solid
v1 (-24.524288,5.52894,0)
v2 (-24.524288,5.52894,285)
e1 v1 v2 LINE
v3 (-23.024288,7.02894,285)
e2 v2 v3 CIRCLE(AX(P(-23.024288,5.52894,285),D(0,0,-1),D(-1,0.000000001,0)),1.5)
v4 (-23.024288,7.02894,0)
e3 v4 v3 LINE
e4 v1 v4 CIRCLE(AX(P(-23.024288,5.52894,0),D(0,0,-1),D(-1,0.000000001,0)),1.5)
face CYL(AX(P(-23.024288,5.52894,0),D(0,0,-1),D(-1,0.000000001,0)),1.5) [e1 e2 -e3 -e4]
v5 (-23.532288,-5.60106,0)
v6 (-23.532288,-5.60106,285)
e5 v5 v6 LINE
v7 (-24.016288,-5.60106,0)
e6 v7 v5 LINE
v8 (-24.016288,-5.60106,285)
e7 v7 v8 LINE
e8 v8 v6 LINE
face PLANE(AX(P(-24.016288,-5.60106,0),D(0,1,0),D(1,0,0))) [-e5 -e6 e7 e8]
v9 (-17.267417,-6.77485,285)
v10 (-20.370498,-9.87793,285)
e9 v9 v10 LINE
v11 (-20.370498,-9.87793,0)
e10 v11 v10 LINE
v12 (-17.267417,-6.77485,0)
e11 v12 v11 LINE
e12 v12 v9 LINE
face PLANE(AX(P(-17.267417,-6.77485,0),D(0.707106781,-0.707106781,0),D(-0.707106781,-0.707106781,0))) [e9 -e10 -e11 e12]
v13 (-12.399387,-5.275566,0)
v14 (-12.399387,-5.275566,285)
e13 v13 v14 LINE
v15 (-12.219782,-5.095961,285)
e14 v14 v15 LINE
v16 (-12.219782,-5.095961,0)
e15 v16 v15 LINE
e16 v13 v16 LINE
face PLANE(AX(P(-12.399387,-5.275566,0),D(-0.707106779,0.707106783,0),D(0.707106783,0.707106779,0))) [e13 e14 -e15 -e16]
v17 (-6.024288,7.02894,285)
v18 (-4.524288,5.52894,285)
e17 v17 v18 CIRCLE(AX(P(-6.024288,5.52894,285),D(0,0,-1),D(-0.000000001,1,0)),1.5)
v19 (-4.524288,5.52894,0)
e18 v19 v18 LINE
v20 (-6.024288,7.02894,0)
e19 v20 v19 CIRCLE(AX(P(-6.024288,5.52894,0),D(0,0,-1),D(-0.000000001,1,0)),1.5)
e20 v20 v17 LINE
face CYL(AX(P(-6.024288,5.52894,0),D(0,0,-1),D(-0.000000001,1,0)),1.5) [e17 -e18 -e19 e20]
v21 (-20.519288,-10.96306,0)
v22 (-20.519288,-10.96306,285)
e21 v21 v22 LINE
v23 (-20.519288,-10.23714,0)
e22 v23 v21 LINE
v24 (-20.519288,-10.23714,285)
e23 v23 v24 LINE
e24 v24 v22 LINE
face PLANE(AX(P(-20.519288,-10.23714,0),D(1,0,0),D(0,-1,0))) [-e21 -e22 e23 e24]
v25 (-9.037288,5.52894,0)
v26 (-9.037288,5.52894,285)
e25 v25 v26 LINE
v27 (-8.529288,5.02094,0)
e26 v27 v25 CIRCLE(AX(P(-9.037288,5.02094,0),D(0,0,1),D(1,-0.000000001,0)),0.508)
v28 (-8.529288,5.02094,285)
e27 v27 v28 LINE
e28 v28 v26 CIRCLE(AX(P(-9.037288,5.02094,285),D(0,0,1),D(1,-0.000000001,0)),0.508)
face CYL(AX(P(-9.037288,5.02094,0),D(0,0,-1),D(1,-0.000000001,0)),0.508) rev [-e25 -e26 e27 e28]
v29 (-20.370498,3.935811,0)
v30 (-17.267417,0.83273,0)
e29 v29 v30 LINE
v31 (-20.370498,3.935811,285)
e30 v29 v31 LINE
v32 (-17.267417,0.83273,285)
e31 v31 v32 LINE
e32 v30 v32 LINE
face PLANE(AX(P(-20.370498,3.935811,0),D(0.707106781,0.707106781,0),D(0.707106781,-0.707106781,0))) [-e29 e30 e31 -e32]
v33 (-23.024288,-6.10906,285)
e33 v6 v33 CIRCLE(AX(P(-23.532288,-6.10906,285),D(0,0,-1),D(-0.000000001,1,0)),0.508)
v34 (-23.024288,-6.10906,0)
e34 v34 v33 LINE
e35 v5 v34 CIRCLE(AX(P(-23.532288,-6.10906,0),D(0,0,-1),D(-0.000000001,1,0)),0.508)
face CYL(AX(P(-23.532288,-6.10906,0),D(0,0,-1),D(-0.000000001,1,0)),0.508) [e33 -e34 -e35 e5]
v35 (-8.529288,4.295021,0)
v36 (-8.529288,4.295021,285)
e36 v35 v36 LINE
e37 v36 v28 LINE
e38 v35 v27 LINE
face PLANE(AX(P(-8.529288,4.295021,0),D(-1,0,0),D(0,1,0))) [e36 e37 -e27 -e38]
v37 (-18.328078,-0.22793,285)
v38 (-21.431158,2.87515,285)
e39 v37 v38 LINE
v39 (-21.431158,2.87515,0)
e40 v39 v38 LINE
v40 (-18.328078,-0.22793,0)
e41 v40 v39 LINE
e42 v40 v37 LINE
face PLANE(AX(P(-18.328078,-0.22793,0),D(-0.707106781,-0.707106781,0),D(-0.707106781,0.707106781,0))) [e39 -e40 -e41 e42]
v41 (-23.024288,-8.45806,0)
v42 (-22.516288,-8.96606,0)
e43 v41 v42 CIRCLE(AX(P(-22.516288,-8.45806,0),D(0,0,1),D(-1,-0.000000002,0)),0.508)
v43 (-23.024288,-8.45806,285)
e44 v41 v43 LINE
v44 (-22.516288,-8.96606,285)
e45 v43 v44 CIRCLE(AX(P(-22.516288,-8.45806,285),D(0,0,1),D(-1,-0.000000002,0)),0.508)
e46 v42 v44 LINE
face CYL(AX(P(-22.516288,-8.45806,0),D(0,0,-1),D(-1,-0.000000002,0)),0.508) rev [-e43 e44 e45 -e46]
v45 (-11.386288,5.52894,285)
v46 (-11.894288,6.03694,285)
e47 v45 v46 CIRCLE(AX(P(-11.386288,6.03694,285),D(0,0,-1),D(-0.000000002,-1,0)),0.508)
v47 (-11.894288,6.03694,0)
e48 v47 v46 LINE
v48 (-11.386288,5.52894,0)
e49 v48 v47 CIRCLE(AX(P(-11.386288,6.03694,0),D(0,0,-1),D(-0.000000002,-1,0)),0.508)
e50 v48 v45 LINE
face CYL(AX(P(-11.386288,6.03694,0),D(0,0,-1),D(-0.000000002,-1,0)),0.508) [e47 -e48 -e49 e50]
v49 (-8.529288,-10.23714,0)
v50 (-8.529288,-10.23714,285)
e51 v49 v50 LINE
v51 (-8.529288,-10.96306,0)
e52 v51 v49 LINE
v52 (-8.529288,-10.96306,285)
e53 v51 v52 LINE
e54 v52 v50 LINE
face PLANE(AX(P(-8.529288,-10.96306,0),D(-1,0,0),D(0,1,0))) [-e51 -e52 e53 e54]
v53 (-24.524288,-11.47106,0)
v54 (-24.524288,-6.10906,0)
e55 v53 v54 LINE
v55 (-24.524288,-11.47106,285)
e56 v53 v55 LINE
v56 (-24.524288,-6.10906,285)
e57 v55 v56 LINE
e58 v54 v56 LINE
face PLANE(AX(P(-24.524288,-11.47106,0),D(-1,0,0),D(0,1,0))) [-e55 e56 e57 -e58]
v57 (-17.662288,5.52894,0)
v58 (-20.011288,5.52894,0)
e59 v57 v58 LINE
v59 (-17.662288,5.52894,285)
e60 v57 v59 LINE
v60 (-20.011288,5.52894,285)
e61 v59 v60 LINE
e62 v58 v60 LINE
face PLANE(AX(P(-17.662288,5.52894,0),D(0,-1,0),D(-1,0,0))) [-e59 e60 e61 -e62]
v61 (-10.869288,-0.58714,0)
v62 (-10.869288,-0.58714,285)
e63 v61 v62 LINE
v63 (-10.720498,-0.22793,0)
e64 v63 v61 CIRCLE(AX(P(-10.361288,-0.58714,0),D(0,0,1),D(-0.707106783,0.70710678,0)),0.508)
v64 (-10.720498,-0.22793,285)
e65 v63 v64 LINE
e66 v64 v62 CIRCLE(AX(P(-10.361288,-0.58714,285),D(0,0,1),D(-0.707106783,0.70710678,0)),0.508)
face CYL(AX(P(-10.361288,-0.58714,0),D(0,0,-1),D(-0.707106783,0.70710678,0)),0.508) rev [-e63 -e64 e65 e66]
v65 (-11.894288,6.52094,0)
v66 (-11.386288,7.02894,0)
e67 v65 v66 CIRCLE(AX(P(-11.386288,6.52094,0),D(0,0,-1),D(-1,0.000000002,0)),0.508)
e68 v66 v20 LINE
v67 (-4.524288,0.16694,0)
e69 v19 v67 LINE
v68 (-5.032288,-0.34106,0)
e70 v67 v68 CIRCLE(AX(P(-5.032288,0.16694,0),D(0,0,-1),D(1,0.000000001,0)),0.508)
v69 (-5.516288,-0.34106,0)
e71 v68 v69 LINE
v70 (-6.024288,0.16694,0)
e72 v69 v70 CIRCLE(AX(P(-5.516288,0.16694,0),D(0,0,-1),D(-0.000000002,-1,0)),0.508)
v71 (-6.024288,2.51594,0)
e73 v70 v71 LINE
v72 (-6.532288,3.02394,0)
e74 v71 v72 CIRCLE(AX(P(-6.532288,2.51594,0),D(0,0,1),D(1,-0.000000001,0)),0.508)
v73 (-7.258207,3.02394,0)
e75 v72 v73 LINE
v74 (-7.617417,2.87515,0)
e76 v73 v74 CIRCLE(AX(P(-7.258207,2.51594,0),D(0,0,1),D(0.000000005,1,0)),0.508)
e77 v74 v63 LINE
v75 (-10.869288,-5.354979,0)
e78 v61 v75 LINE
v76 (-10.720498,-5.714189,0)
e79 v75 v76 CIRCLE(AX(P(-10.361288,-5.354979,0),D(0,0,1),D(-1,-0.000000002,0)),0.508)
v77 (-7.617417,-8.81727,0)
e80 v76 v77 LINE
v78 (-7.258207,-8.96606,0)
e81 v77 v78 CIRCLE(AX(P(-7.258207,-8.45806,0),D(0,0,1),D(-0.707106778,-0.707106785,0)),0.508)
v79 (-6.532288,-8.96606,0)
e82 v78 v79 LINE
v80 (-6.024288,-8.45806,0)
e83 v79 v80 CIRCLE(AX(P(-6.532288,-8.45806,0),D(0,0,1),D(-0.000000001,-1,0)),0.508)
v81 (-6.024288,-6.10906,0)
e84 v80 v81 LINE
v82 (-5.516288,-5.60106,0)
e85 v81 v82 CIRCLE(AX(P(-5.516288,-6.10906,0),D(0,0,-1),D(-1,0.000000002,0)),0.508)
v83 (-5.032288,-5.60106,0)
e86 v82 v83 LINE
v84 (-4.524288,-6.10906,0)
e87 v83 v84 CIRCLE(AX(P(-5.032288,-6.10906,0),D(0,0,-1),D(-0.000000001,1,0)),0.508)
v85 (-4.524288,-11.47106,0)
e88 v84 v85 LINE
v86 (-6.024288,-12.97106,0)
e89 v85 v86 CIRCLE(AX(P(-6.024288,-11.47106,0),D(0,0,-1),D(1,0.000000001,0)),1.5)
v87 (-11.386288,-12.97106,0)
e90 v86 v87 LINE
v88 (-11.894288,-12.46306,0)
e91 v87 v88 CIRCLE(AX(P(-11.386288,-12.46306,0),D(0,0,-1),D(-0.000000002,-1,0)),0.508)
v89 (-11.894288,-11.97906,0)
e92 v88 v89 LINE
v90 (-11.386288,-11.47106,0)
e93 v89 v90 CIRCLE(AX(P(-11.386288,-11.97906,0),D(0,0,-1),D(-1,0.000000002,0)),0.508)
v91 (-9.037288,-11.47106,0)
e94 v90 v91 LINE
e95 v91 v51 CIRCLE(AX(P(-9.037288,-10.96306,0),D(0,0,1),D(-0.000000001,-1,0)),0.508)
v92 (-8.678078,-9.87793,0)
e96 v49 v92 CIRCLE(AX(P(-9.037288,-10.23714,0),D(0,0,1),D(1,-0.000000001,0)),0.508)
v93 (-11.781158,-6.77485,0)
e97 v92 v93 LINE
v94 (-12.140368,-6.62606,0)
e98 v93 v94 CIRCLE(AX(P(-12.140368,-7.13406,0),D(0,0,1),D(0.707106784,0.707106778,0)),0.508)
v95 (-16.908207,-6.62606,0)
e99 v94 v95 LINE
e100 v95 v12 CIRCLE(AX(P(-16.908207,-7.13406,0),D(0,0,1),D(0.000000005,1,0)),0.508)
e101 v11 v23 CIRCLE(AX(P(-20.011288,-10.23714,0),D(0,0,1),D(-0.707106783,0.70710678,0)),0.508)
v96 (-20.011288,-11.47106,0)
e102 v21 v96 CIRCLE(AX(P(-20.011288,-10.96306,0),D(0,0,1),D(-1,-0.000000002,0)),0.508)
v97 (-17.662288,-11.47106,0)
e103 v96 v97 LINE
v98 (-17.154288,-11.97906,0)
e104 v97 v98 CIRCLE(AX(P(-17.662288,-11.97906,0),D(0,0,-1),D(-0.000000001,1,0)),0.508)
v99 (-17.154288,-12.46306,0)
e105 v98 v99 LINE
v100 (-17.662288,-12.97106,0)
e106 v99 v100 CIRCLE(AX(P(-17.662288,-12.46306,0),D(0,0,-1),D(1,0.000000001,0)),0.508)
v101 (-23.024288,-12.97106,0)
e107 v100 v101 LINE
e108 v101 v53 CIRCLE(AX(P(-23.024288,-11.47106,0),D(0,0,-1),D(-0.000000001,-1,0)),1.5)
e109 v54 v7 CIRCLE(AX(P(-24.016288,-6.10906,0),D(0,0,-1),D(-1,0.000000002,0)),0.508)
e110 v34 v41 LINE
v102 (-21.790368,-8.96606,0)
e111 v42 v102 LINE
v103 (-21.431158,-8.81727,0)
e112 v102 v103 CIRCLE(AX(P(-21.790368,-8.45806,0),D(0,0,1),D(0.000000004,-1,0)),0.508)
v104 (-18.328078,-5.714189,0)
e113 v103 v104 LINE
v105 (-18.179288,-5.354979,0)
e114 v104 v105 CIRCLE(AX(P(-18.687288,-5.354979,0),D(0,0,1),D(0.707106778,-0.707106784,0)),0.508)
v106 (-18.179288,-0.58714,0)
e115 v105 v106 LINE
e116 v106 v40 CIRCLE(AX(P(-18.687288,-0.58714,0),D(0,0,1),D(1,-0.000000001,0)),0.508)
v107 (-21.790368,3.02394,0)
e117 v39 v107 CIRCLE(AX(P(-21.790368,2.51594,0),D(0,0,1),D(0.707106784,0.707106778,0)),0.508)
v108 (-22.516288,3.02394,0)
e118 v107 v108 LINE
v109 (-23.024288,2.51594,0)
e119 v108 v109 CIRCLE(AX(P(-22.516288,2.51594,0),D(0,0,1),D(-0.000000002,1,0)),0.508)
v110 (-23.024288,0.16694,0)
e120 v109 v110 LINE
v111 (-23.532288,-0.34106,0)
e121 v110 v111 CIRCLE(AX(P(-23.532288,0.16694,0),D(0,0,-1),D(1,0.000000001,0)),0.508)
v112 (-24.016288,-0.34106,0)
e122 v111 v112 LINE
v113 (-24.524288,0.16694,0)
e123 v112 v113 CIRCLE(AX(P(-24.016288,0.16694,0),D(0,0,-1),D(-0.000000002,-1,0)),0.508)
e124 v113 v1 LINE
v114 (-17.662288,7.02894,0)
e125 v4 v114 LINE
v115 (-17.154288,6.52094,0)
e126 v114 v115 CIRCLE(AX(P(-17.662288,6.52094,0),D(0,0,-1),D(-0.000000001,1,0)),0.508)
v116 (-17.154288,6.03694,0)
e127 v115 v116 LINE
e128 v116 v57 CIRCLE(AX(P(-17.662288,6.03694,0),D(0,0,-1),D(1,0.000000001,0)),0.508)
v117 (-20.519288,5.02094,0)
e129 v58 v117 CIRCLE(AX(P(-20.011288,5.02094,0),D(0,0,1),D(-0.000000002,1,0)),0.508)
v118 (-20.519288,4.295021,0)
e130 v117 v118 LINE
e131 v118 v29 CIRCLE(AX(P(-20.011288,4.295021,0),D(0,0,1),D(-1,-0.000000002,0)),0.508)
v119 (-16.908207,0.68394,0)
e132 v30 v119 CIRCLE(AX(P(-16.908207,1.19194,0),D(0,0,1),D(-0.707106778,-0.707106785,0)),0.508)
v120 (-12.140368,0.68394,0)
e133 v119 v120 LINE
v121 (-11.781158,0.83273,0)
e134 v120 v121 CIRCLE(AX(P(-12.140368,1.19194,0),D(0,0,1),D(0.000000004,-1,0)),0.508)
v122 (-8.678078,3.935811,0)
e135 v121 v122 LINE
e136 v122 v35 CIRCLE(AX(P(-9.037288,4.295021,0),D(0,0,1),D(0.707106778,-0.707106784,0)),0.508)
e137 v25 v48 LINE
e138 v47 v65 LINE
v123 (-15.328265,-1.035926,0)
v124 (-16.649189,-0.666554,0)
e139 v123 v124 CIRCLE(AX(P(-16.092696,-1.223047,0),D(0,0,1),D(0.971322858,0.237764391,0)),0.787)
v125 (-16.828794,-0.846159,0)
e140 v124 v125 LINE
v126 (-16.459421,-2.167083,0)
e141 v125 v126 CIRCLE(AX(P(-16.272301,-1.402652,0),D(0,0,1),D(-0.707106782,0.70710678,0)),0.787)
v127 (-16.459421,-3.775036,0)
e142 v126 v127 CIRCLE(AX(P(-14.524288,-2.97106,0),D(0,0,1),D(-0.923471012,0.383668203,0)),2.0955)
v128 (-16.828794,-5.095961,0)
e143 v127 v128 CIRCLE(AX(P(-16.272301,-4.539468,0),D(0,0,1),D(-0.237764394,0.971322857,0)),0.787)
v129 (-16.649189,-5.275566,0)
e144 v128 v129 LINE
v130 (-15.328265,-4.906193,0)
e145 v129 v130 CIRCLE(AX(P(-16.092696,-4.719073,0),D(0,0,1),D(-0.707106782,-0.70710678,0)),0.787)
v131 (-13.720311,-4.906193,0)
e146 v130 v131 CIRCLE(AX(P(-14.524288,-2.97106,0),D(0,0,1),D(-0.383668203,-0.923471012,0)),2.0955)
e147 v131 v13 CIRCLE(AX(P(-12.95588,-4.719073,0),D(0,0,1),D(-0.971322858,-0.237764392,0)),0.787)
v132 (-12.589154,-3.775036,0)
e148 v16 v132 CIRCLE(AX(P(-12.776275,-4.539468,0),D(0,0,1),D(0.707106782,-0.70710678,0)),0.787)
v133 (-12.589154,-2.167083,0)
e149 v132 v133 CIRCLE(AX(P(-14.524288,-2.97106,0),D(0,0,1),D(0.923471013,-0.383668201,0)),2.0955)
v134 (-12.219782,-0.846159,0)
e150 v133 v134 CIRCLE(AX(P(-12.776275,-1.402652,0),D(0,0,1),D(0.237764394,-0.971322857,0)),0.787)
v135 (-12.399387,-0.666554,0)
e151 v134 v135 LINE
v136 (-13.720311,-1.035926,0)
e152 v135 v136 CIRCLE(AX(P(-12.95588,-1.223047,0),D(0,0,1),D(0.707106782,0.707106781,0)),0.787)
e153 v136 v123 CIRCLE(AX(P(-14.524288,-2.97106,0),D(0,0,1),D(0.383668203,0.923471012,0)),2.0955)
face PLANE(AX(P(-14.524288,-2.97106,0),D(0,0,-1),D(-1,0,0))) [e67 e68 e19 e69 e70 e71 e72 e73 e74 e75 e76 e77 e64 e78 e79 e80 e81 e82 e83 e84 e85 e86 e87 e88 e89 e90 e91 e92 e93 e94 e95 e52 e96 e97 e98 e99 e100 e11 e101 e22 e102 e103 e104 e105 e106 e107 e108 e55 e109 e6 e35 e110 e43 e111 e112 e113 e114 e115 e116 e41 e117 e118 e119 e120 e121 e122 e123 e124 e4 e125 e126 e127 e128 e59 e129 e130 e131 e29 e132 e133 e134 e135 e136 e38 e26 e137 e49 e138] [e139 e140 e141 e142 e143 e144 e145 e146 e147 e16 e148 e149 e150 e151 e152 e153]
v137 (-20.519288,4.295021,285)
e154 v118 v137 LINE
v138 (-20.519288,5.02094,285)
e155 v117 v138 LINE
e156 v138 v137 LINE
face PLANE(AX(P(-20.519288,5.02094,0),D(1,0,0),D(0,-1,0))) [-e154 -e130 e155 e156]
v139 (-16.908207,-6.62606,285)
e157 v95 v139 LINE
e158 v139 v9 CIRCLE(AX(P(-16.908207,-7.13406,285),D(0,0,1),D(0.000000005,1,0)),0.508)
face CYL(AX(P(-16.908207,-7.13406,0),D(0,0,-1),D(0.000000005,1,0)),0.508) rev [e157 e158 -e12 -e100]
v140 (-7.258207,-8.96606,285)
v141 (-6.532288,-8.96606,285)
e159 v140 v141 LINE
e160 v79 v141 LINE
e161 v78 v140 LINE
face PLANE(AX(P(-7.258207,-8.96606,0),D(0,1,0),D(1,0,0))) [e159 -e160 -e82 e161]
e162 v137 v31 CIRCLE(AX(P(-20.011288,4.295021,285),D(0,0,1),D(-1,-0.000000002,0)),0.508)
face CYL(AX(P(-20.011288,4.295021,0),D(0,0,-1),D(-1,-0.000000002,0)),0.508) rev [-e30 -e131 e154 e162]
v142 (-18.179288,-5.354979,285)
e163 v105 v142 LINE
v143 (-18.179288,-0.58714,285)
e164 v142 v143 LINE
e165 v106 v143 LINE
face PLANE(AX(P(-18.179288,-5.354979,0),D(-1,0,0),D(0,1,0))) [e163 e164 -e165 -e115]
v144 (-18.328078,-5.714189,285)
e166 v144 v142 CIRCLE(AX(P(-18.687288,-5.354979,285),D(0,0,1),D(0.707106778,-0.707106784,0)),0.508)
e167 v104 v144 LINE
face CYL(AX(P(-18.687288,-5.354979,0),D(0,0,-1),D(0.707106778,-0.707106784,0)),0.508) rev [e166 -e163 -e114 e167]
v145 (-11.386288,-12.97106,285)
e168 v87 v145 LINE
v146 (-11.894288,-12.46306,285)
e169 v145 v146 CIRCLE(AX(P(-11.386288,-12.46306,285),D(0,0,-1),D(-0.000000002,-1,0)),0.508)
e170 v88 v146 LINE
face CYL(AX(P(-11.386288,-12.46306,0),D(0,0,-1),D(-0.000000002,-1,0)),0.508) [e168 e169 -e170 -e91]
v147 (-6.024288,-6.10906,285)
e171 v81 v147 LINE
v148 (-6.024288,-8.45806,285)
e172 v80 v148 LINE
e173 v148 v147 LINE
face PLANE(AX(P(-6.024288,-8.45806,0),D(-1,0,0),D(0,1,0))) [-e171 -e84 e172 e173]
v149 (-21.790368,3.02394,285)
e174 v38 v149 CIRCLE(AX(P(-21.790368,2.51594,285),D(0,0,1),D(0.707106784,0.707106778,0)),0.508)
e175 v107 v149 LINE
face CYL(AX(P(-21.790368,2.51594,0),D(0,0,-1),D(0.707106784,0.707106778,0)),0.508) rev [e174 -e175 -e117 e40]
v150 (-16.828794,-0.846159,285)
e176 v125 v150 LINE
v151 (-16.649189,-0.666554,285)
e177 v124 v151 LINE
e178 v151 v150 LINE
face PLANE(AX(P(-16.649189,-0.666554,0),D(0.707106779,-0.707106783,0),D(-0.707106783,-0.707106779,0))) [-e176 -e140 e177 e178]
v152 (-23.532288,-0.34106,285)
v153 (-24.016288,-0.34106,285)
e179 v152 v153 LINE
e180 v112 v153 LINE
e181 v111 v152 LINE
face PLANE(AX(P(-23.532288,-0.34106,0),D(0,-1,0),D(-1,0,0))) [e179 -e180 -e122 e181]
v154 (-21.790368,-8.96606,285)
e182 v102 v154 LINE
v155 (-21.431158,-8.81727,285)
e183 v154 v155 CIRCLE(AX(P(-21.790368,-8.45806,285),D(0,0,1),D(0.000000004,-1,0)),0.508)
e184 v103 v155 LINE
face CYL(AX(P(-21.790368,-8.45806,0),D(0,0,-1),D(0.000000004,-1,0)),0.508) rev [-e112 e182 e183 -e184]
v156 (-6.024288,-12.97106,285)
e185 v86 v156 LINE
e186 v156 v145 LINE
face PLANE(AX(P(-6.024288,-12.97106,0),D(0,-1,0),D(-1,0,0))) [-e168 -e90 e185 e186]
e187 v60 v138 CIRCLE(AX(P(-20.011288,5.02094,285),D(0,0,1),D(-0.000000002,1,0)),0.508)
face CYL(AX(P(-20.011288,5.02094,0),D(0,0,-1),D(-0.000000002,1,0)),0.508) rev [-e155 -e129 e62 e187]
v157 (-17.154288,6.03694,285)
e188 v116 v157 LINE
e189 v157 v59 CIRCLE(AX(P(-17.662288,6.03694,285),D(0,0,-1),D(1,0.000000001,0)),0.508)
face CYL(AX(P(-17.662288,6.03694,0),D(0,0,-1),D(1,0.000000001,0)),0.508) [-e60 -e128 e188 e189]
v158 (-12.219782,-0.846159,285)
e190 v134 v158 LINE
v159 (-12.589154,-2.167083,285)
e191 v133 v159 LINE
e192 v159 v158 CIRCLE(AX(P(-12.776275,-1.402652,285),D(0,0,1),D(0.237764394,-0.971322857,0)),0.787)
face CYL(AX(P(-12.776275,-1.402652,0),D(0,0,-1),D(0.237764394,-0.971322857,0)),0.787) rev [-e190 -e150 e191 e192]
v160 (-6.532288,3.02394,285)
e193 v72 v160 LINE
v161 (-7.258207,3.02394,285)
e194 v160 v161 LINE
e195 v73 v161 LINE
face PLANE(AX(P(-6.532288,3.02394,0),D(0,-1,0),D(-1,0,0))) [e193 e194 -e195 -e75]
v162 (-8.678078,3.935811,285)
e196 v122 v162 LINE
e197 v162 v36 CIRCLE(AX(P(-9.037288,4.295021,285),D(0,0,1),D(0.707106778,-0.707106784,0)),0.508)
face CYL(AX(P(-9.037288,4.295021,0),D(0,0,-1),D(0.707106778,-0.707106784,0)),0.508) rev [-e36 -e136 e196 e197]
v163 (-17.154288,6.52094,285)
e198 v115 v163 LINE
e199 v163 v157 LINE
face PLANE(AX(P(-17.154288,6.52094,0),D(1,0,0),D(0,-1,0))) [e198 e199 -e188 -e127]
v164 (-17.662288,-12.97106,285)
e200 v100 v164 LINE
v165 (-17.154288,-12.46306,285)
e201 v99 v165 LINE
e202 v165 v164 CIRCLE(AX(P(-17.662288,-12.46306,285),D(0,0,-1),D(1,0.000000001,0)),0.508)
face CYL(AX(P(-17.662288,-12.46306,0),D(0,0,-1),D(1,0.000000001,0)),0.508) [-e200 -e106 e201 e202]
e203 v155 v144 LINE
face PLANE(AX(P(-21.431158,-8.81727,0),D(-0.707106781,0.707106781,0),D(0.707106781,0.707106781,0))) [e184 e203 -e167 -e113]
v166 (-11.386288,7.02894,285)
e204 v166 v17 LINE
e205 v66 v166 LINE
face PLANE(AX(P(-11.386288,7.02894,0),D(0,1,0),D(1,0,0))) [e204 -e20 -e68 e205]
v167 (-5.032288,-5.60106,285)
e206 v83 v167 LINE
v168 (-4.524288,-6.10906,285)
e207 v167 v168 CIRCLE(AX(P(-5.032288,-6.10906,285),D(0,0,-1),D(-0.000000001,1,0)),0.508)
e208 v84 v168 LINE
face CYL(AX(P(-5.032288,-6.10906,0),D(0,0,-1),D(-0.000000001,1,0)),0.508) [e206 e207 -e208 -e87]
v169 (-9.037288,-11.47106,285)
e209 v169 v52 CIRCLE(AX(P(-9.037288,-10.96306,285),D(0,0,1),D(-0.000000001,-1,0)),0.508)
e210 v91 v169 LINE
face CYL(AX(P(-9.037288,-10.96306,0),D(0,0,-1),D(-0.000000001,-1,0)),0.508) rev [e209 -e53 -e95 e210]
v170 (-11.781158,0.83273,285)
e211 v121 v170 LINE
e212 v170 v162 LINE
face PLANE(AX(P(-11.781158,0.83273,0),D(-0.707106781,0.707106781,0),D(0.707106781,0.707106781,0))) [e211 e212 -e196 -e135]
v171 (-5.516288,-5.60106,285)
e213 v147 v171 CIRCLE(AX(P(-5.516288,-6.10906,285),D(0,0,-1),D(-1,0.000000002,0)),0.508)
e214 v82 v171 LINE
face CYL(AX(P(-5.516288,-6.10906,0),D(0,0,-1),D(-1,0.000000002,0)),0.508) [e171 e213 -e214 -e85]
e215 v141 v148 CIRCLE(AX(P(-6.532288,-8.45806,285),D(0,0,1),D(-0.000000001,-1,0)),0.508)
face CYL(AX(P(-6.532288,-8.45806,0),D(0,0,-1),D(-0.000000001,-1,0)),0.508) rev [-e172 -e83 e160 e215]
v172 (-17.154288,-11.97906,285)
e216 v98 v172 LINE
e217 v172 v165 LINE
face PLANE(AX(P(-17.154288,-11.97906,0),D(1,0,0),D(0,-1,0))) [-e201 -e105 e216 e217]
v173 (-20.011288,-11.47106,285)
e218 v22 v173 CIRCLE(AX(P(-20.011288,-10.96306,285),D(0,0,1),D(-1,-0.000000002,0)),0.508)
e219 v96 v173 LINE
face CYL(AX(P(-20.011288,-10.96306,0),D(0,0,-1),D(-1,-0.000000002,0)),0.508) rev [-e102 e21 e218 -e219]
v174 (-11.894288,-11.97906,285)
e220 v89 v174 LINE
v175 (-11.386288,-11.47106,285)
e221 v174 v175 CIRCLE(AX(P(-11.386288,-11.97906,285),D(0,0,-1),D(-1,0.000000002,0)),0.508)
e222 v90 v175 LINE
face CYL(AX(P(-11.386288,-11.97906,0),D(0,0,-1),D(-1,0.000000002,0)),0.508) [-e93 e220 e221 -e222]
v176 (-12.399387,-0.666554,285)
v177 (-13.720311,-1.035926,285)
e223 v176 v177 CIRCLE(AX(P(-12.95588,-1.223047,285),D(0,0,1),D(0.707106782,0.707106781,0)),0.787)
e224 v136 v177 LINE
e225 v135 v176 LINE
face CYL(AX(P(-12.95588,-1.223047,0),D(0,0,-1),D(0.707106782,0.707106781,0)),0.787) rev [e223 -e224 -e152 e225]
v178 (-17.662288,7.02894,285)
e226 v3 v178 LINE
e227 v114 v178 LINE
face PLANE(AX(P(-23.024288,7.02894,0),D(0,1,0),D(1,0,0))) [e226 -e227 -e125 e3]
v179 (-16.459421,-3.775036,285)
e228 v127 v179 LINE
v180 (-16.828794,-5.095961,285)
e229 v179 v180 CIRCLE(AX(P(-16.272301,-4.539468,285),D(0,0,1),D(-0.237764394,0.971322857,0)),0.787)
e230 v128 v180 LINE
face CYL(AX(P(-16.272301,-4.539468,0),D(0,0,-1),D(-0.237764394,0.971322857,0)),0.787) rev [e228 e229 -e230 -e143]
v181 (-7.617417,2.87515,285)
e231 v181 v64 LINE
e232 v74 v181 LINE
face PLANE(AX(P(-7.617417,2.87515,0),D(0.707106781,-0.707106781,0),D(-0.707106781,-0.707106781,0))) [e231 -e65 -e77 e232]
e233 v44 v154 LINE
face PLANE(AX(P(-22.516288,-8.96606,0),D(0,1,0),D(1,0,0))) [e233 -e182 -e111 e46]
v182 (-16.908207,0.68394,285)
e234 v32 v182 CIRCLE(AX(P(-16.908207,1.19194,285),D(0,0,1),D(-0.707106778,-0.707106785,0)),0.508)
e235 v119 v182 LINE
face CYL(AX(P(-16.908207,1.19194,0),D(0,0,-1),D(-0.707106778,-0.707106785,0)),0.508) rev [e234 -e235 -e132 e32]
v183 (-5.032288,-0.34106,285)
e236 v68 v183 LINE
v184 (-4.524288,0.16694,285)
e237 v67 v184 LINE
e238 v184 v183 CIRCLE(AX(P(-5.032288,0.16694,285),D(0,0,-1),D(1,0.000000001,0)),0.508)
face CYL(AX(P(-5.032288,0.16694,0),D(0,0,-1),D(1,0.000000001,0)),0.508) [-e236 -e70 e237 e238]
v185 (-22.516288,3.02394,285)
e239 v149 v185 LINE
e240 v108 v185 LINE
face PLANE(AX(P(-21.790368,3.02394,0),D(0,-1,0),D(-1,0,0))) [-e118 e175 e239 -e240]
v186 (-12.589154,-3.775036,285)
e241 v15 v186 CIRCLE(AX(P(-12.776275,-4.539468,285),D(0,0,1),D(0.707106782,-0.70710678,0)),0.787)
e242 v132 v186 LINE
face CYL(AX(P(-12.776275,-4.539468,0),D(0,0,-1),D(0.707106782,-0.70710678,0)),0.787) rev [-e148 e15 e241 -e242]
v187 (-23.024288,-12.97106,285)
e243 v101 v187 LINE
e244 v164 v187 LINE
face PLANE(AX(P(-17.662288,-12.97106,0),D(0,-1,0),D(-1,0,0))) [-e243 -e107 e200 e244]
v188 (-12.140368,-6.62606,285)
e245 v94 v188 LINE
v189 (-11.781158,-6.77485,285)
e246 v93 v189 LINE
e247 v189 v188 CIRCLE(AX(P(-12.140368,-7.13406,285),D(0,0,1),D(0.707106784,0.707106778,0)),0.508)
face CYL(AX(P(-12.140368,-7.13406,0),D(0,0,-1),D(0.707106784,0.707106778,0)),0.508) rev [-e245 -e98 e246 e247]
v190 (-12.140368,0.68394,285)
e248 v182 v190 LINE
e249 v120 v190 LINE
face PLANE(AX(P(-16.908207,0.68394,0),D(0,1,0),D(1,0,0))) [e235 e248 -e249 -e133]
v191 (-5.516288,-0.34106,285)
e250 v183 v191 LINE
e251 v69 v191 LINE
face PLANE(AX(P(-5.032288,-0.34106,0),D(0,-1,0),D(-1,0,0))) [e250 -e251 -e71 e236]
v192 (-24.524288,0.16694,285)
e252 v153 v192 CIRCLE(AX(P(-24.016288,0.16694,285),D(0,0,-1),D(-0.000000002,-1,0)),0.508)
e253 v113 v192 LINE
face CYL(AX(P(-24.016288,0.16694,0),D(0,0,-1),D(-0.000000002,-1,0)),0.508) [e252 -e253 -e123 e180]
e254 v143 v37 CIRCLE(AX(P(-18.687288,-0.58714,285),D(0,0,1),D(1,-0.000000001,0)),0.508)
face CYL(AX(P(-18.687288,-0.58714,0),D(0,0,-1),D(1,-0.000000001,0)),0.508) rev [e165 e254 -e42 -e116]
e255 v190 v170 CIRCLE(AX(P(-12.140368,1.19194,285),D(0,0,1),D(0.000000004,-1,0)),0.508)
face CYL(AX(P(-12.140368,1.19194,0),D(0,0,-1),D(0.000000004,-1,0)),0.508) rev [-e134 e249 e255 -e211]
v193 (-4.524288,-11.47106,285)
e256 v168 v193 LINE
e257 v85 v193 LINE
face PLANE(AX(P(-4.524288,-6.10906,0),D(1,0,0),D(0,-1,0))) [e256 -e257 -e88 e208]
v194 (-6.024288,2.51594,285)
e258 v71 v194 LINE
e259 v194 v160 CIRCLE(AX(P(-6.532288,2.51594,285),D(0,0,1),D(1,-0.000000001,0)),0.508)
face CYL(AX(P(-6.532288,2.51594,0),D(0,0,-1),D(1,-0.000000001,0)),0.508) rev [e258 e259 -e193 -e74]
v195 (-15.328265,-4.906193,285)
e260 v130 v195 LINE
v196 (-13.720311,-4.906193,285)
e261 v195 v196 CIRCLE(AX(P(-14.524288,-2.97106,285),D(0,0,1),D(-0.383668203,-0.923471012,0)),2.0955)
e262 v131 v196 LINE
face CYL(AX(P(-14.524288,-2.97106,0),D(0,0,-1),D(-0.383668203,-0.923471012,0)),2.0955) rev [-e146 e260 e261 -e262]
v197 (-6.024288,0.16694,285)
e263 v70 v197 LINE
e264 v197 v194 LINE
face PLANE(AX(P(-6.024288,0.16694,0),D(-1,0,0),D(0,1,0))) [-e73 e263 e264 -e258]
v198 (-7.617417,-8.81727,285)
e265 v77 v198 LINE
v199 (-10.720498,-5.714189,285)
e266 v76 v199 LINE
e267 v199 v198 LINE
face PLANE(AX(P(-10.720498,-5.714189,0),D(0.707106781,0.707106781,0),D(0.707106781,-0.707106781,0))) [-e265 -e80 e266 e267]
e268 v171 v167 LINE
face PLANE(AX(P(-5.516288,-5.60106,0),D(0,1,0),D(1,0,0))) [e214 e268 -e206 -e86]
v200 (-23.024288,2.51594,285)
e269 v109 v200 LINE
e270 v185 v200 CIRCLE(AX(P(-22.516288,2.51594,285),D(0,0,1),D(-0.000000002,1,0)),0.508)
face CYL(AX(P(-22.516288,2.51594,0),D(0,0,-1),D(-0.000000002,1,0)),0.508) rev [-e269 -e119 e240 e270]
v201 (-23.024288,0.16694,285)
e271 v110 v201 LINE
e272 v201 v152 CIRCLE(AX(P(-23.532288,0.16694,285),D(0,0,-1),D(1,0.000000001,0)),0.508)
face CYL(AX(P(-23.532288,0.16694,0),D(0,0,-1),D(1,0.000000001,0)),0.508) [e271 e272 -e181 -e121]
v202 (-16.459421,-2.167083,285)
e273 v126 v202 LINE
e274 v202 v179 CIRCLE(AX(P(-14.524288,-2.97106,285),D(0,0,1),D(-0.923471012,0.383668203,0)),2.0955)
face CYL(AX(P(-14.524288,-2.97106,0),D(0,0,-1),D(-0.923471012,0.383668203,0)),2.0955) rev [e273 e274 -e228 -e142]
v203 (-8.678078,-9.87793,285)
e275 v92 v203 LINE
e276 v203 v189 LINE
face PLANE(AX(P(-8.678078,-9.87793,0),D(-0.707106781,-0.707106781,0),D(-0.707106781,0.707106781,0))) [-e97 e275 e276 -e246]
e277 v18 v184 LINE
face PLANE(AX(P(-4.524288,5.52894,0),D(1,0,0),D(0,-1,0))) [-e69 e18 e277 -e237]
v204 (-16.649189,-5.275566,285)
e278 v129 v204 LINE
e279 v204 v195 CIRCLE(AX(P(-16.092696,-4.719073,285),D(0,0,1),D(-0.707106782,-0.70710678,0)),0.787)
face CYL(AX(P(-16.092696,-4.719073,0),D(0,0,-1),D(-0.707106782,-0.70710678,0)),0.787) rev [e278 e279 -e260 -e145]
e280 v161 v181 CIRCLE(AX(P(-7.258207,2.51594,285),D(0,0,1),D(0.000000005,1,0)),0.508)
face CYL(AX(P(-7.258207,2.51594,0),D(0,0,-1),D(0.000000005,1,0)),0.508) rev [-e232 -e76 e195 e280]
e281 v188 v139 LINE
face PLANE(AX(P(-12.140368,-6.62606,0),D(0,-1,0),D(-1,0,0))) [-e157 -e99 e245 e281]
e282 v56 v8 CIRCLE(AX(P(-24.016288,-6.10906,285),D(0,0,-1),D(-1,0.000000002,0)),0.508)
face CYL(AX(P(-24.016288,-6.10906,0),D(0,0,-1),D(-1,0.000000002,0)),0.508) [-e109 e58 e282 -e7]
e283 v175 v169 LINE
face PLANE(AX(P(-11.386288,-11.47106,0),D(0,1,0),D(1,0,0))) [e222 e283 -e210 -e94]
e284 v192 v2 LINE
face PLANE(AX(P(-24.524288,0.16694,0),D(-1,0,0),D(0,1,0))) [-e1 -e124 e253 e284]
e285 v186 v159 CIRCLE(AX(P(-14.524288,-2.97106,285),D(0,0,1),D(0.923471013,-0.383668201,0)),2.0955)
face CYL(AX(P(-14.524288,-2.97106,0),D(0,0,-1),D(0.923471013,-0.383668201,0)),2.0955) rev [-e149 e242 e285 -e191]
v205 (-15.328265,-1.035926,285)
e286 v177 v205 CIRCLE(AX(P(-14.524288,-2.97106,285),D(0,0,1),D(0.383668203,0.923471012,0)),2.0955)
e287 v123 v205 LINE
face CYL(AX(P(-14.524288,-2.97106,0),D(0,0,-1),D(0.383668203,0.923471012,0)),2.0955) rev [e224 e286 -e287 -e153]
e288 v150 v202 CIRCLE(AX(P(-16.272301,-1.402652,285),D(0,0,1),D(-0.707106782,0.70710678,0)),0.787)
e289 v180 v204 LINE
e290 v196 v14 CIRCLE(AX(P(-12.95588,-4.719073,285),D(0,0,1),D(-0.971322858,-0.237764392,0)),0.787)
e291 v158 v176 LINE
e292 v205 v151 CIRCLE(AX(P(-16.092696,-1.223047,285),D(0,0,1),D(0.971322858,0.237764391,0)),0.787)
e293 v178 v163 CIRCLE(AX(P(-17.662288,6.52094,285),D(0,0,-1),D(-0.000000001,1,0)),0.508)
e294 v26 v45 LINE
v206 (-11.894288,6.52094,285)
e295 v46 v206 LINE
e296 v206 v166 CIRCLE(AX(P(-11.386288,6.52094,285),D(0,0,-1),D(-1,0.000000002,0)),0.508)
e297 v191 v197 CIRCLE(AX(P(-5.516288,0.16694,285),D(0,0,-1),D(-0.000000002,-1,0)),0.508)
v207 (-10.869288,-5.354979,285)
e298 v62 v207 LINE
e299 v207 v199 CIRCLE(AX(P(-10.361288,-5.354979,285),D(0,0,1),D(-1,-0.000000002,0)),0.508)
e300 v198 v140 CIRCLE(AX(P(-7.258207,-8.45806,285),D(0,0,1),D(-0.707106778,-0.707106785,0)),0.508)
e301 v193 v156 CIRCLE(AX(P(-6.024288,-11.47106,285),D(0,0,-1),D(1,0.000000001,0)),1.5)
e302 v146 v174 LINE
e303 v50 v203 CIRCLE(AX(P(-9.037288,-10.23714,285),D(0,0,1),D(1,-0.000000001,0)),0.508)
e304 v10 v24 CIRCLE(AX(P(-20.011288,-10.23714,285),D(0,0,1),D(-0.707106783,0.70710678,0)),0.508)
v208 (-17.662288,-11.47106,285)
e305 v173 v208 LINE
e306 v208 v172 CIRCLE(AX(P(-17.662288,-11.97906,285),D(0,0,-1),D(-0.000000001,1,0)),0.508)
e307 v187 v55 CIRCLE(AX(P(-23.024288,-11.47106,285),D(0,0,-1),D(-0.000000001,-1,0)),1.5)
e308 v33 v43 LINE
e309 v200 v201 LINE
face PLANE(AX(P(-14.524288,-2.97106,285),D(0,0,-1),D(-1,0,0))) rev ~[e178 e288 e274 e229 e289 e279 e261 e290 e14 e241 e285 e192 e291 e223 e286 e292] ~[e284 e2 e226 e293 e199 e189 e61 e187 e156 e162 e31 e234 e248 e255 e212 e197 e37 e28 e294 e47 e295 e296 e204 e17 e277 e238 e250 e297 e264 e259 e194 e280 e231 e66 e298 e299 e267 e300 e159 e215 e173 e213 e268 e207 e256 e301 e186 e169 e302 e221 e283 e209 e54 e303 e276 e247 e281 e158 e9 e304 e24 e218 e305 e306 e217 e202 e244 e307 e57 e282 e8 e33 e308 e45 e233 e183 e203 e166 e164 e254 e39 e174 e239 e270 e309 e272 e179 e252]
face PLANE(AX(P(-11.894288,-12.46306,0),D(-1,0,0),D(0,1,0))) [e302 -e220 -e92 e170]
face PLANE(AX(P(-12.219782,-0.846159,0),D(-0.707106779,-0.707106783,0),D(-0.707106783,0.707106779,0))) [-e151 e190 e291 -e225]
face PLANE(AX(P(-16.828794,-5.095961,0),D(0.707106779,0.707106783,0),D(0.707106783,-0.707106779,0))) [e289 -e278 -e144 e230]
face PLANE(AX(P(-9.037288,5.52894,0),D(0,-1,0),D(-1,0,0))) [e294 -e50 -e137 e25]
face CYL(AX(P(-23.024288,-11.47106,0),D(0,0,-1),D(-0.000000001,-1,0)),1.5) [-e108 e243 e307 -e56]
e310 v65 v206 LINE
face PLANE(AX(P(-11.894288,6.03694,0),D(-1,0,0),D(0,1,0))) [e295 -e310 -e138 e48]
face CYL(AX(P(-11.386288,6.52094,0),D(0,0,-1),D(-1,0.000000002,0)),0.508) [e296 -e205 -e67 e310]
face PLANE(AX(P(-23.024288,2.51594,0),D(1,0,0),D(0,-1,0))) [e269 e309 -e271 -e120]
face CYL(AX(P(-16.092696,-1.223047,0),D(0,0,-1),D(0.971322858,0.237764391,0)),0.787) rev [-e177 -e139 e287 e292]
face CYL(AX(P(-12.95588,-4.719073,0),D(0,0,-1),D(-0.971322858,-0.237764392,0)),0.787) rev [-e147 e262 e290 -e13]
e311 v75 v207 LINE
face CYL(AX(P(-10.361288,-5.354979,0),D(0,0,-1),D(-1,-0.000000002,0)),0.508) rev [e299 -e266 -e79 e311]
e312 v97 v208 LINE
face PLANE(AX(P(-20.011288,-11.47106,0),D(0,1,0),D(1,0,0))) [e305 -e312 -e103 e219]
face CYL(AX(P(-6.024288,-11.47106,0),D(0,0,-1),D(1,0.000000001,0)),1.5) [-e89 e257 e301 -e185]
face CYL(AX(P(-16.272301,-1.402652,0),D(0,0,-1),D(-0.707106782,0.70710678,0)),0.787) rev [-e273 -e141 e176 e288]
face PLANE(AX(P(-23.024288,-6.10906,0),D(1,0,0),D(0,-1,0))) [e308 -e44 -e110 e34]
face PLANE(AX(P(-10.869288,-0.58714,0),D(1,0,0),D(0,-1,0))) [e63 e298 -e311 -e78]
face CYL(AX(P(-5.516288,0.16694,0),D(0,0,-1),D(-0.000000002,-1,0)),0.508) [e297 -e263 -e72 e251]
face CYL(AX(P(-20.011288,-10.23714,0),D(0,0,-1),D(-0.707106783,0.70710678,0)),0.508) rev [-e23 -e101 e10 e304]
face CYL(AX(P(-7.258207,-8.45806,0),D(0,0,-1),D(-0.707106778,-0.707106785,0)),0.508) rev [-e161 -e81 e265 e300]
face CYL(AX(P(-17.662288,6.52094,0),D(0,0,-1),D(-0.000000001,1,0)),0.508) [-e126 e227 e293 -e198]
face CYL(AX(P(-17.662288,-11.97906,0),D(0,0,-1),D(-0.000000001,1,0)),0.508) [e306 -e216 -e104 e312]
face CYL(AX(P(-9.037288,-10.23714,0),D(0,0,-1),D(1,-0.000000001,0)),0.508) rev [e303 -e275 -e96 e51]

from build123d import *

# Parameters (mm, degrees)
EXTRUDE1_DEPTH = 285


with BuildPart() as part:
    # Sketch1 → Extrude1 (new body)
    with BuildSketch(Plane.XY):
        with BuildLine():
            Line((-5.032287798, -0.341059771), (-5.516287798, -0.341059771))
            ThreePointArc((-5.516287798, -0.341059771), (-5.875498042, -0.192270016), (-6.024287798, 0.166940229))
            Line((-6.024287798, 0.166940229), (-6.024287798, 2.515940229))
            ThreePointArc((-6.024287798, 2.515940229), (-6.173077553, 2.875150474), (-6.532287798, 3.023940229))
            Line((-6.532287798, 3.023940229), (-7.258207136, 3.023940229))
            ThreePointArc((-7.258207136, 3.023940229), (-7.45261032, 2.985271032), (-7.617417381, 2.875150474))
            Line((-7.617417381, 2.875150474), (-10.720498042, -0.227930187))
            ThreePointArc((-10.720498042, -0.227930187), (-10.8306186, -0.392737249), (-10.869287798, -0.587140432))
            Line((-10.869287798, -0.587140432), (-10.869287798, -5.354979109))
            ThreePointArc((-10.869287798, -5.354979109), (-10.8306186, -5.549382293), (-10.720498042, -5.714189354))
            Line((-10.720498042, -5.714189354), (-7.617417381, -8.817270016))
            ThreePointArc((-7.617417381, -8.817270016), (-7.45261032, -8.927390573), (-7.258207136, -8.966059771))
            Line((-7.258207136, -8.966059771), (-6.532287798, -8.966059771))
            ThreePointArc((-6.532287798, -8.966059771), (-6.173077553, -8.817270016), (-6.024287798, -8.458059771))
            Line((-6.024287798, -8.458059771), (-6.024287798, -6.109059771))
            ThreePointArc((-6.024287798, -6.109059771), (-5.875498042, -5.749849526), (-5.516287798, -5.601059771))
            Line((-5.516287798, -5.601059771), (-5.032287798, -5.601059771))
            ThreePointArc((-5.032287798, -5.601059771), (-4.673077553, -5.749849526), (-4.524287798, -6.109059771))
            Line((-4.524287798, -6.109059771), (-4.524287798, -11.471059771))
            ThreePointArc((-4.524287798, -11.471059771), (-4.963627626, -12.531719943), (-6.024287798, -12.971059771))
            Line((-6.024287798, -12.971059771), (-11.386287798, -12.971059771))
            ThreePointArc((-11.386287798, -12.971059771), (-11.745498042, -12.822270016), (-11.894287798, -12.463059771))
            Line((-11.894287798, -12.463059771), (-11.894287798, -11.979059771))
            ThreePointArc((-11.894287798, -11.979059771), (-11.745498042, -11.619849526), (-11.386287798, -11.471059771))
            Line((-11.386287798, -11.471059771), (-9.037287798, -11.471059771))
            ThreePointArc((-9.037287798, -11.471059771), (-8.678077553, -11.322270016), (-8.529287798, -10.963059771))
            Line((-8.529287798, -10.963059771), (-8.529287798, -10.237140432))
            ThreePointArc((-8.529287798, -10.237140432), (-8.567956995, -10.042737249), (-8.678077553, -9.877930187))
            Line((-8.678077553, -9.877930187), (-11.781158214, -6.774849526))
            ThreePointArc((-11.781158214, -6.774849526), (-11.945965275, -6.664728968), (-12.140368459, -6.626059771))
            Line((-12.140368459, -6.626059771), (-16.908207136, -6.626059771))
            ThreePointArc((-16.908207136, -6.626059771), (-17.10261032, -6.664728968), (-17.267417381, -6.774849526))
            Line((-17.267417381, -6.774849526), (-20.370498042, -9.877930187))
            ThreePointArc((-20.370498042, -9.877930187), (-20.4806186, -10.042737249), (-20.519287798, -10.237140432))
            Line((-20.519287798, -10.237140432), (-20.519287798, -10.963059771))
            ThreePointArc((-20.519287798, -10.963059771), (-20.370498042, -11.322270016), (-20.011287798, -11.471059771))
            Line((-20.011287798, -11.471059771), (-17.662287798, -11.471059771))
            ThreePointArc((-17.662287798, -11.471059771), (-17.303077553, -11.619849526), (-17.154287798, -11.979059771))
            Line((-17.154287798, -11.979059771), (-17.154287798, -12.463059771))
            ThreePointArc((-17.154287798, -12.463059771), (-17.303077553, -12.822270016), (-17.662287798, -12.971059771))
            Line((-17.662287798, -12.971059771), (-23.024287798, -12.971059771))
            ThreePointArc((-23.024287798, -12.971059771), (-24.084947969, -12.531719943), (-24.524287798, -11.471059771))
            Line((-24.524287798, -11.471059771), (-24.524287798, -6.109059771))
            ThreePointArc((-24.524287798, -6.109059771), (-24.375498042, -5.749849526), (-24.016287798, -5.601059771))
            Line((-24.016287798, -5.601059771), (-23.532287798, -5.601059771))
            ThreePointArc((-23.532287798, -5.601059771), (-23.173077553, -5.749849526), (-23.024287798, -6.109059771))
            Line((-23.024287798, -6.109059771), (-23.024287798, -8.458059771))
            ThreePointArc((-23.024287798, -8.458059771), (-22.875498042, -8.817270016), (-22.516287798, -8.966059771))
            Line((-22.516287798, -8.966059771), (-21.790368459, -8.966059771))
            ThreePointArc((-21.790368459, -8.966059771), (-21.595965275, -8.927390573), (-21.431158214, -8.817270016))
            Line((-21.431158214, -8.817270016), (-18.328077553, -5.714189354))
            ThreePointArc((-18.328077553, -5.714189354), (-18.217956995, -5.549382293), (-18.179287798, -5.354979109))
            Line((-18.179287798, -5.354979109), (-18.179287798, -0.587140432))
            ThreePointArc((-18.179287798, -0.587140432), (-18.217956995, -0.392737249), (-18.328077553, -0.227930187))
            Line((-18.328077553, -0.227930187), (-21.431158214, 2.875150474))
            ThreePointArc((-21.431158214, 2.875150474), (-21.595965275, 2.985271032), (-21.790368459, 3.023940229))
            Line((-21.790368459, 3.023940229), (-22.516287798, 3.023940229))
            ThreePointArc((-22.516287798, 3.023940229), (-22.875498042, 2.875150474), (-23.024287798, 2.515940229))
            Line((-23.024287798, 2.515940229), (-23.024287798, 0.166940229))
            ThreePointArc((-23.024287798, 0.166940229), (-23.173077553, -0.192270016), (-23.532287798, -0.341059771))
            Line((-23.532287798, -0.341059771), (-24.016287798, -0.341059771))
            ThreePointArc((-24.016287798, -0.341059771), (-24.375498042, -0.192270016), (-24.524287798, 0.166940229))
            Line((-24.524287798, 0.166940229), (-24.524287798, 5.528940229))
            ThreePointArc((-24.524287798, 5.528940229), (-24.084947969, 6.589600401), (-23.024287798, 7.028940229))
            Line((-23.024287798, 7.028940229), (-17.662287798, 7.028940229))
            ThreePointArc((-17.662287798, 7.028940229), (-17.303077553, 6.880150474), (-17.154287798, 6.520940229))
            Line((-17.154287798, 6.520940229), (-17.154287798, 6.036940229))
            ThreePointArc((-17.154287798, 6.036940229), (-17.303077553, 5.677729984), (-17.662287798, 5.528940229))
            Line((-17.662287798, 5.528940229), (-20.011287798, 5.528940229))
            ThreePointArc((-20.011287798, 5.528940229), (-20.370498042, 5.380150474), (-20.519287798, 5.020940229))
            Line((-20.519287798, 5.020940229), (-20.519287798, 4.295020891))
            ThreePointArc((-20.519287798, 4.295020891), (-20.4806186, 4.100617707), (-20.370498042, 3.935810646))
            Line((-20.370498042, 3.935810646), (-17.267417381, 0.832729984))
            ThreePointArc((-17.267417381, 0.832729984), (-17.10261032, 0.722609427), (-16.908207136, 0.683940229))
            Line((-16.908207136, 0.683940229), (-12.140368459, 0.683940229))
            ThreePointArc((-12.140368459, 0.683940229), (-11.945965275, 0.722609427), (-11.781158214, 0.832729984))
            Line((-11.781158214, 0.832729984), (-8.678077553, 3.935810646))
            ThreePointArc((-8.678077553, 3.935810646), (-8.567956995, 4.100617707), (-8.529287798, 4.295020891))
            Line((-8.529287798, 4.295020891), (-8.529287798, 5.020940229))
            ThreePointArc((-8.529287798, 5.020940229), (-8.678077553, 5.380150474), (-9.037287798, 5.528940229))
            Line((-9.037287798, 5.528940229), (-11.386287798, 5.528940229))
            ThreePointArc((-11.386287798, 5.528940229), (-11.745498042, 5.677729984), (-11.894287798, 6.036940229))
            Line((-11.894287798, 6.036940229), (-11.894287798, 6.520940229))
            ThreePointArc((-11.894287798, 6.520940229), (-11.745498042, 6.880150474), (-11.386287798, 7.028940229))
            Line((-11.386287798, 7.028940229), (-6.024287798, 7.028940229))
            ThreePointArc((-6.024287798, 7.028940229), (-4.963627626, 6.589600401), (-4.524287798, 5.528940229))
            Line((-4.524287798, 5.528940229), (-4.524287798, 0.166940229))
            ThreePointArc((-4.524287798, 0.166940229), (-4.673077553, -0.192270016), (-5.032287798, -0.341059771))
        make_face()
        with BuildLine():
            Line((-12.399386954, -5.275565737), (-12.219781831, -5.095960615))
            ThreePointArc((-12.219781831, -5.095960615), (-12.018349781, -4.327527582), (-12.589154291, -3.775036489))
            ThreePointArc((-12.589154291, -3.775036489), (-12.428787798, -2.971059771), (-12.589154291, -2.167083053))
            ThreePointArc((-12.589154291, -2.167083053), (-12.018349781, -1.61459196), (-12.219781831, -0.846158927))
            Line((-12.219781831, -0.846158927), (-12.399386954, -0.666553805))
            ThreePointArc((-12.399386954, -0.666553805), (-13.167819987, -0.465121754), (-13.72031108, -1.035926265))
            ThreePointArc((-13.72031108, -1.035926265), (-14.524287798, -0.875559771), (-15.328264516, -1.035926265))
            ThreePointArc((-15.328264516, -1.035926265), (-15.880755608, -0.465121754), (-16.649188641, -0.666553805))
            Line((-16.649188641, -0.666553805), (-16.828793764, -0.846158927))
            ThreePointArc((-16.828793764, -0.846158927), (-17.030225814, -1.61459196), (-16.459421304, -2.167083053))
            ThreePointArc((-16.459421304, -2.167083053), (-16.619787798, -2.971059771), (-16.459421304, -3.775036489))
            ThreePointArc((-16.459421304, -3.775036489), (-17.030225814, -4.327527582), (-16.828793764, -5.095960615))
            Line((-16.828793764, -5.095960615), (-16.649188641, -5.275565737))
            ThreePointArc((-16.649188641, -5.275565737), (-15.880755608, -5.476997788), (-15.328264516, -4.906193277))
            ThreePointArc((-15.328264516, -4.906193277), (-14.524287798, -5.066559771), (-13.72031108, -4.906193277))
            ThreePointArc((-13.72031108, -4.906193277), (-13.167819987, -5.476997788), (-12.399386954, -5.275565737))
        make_face(mode=Mode.SUBTRACT)
    extrude(amount=EXTRUDE1_DEPTH)


solid = part.part
